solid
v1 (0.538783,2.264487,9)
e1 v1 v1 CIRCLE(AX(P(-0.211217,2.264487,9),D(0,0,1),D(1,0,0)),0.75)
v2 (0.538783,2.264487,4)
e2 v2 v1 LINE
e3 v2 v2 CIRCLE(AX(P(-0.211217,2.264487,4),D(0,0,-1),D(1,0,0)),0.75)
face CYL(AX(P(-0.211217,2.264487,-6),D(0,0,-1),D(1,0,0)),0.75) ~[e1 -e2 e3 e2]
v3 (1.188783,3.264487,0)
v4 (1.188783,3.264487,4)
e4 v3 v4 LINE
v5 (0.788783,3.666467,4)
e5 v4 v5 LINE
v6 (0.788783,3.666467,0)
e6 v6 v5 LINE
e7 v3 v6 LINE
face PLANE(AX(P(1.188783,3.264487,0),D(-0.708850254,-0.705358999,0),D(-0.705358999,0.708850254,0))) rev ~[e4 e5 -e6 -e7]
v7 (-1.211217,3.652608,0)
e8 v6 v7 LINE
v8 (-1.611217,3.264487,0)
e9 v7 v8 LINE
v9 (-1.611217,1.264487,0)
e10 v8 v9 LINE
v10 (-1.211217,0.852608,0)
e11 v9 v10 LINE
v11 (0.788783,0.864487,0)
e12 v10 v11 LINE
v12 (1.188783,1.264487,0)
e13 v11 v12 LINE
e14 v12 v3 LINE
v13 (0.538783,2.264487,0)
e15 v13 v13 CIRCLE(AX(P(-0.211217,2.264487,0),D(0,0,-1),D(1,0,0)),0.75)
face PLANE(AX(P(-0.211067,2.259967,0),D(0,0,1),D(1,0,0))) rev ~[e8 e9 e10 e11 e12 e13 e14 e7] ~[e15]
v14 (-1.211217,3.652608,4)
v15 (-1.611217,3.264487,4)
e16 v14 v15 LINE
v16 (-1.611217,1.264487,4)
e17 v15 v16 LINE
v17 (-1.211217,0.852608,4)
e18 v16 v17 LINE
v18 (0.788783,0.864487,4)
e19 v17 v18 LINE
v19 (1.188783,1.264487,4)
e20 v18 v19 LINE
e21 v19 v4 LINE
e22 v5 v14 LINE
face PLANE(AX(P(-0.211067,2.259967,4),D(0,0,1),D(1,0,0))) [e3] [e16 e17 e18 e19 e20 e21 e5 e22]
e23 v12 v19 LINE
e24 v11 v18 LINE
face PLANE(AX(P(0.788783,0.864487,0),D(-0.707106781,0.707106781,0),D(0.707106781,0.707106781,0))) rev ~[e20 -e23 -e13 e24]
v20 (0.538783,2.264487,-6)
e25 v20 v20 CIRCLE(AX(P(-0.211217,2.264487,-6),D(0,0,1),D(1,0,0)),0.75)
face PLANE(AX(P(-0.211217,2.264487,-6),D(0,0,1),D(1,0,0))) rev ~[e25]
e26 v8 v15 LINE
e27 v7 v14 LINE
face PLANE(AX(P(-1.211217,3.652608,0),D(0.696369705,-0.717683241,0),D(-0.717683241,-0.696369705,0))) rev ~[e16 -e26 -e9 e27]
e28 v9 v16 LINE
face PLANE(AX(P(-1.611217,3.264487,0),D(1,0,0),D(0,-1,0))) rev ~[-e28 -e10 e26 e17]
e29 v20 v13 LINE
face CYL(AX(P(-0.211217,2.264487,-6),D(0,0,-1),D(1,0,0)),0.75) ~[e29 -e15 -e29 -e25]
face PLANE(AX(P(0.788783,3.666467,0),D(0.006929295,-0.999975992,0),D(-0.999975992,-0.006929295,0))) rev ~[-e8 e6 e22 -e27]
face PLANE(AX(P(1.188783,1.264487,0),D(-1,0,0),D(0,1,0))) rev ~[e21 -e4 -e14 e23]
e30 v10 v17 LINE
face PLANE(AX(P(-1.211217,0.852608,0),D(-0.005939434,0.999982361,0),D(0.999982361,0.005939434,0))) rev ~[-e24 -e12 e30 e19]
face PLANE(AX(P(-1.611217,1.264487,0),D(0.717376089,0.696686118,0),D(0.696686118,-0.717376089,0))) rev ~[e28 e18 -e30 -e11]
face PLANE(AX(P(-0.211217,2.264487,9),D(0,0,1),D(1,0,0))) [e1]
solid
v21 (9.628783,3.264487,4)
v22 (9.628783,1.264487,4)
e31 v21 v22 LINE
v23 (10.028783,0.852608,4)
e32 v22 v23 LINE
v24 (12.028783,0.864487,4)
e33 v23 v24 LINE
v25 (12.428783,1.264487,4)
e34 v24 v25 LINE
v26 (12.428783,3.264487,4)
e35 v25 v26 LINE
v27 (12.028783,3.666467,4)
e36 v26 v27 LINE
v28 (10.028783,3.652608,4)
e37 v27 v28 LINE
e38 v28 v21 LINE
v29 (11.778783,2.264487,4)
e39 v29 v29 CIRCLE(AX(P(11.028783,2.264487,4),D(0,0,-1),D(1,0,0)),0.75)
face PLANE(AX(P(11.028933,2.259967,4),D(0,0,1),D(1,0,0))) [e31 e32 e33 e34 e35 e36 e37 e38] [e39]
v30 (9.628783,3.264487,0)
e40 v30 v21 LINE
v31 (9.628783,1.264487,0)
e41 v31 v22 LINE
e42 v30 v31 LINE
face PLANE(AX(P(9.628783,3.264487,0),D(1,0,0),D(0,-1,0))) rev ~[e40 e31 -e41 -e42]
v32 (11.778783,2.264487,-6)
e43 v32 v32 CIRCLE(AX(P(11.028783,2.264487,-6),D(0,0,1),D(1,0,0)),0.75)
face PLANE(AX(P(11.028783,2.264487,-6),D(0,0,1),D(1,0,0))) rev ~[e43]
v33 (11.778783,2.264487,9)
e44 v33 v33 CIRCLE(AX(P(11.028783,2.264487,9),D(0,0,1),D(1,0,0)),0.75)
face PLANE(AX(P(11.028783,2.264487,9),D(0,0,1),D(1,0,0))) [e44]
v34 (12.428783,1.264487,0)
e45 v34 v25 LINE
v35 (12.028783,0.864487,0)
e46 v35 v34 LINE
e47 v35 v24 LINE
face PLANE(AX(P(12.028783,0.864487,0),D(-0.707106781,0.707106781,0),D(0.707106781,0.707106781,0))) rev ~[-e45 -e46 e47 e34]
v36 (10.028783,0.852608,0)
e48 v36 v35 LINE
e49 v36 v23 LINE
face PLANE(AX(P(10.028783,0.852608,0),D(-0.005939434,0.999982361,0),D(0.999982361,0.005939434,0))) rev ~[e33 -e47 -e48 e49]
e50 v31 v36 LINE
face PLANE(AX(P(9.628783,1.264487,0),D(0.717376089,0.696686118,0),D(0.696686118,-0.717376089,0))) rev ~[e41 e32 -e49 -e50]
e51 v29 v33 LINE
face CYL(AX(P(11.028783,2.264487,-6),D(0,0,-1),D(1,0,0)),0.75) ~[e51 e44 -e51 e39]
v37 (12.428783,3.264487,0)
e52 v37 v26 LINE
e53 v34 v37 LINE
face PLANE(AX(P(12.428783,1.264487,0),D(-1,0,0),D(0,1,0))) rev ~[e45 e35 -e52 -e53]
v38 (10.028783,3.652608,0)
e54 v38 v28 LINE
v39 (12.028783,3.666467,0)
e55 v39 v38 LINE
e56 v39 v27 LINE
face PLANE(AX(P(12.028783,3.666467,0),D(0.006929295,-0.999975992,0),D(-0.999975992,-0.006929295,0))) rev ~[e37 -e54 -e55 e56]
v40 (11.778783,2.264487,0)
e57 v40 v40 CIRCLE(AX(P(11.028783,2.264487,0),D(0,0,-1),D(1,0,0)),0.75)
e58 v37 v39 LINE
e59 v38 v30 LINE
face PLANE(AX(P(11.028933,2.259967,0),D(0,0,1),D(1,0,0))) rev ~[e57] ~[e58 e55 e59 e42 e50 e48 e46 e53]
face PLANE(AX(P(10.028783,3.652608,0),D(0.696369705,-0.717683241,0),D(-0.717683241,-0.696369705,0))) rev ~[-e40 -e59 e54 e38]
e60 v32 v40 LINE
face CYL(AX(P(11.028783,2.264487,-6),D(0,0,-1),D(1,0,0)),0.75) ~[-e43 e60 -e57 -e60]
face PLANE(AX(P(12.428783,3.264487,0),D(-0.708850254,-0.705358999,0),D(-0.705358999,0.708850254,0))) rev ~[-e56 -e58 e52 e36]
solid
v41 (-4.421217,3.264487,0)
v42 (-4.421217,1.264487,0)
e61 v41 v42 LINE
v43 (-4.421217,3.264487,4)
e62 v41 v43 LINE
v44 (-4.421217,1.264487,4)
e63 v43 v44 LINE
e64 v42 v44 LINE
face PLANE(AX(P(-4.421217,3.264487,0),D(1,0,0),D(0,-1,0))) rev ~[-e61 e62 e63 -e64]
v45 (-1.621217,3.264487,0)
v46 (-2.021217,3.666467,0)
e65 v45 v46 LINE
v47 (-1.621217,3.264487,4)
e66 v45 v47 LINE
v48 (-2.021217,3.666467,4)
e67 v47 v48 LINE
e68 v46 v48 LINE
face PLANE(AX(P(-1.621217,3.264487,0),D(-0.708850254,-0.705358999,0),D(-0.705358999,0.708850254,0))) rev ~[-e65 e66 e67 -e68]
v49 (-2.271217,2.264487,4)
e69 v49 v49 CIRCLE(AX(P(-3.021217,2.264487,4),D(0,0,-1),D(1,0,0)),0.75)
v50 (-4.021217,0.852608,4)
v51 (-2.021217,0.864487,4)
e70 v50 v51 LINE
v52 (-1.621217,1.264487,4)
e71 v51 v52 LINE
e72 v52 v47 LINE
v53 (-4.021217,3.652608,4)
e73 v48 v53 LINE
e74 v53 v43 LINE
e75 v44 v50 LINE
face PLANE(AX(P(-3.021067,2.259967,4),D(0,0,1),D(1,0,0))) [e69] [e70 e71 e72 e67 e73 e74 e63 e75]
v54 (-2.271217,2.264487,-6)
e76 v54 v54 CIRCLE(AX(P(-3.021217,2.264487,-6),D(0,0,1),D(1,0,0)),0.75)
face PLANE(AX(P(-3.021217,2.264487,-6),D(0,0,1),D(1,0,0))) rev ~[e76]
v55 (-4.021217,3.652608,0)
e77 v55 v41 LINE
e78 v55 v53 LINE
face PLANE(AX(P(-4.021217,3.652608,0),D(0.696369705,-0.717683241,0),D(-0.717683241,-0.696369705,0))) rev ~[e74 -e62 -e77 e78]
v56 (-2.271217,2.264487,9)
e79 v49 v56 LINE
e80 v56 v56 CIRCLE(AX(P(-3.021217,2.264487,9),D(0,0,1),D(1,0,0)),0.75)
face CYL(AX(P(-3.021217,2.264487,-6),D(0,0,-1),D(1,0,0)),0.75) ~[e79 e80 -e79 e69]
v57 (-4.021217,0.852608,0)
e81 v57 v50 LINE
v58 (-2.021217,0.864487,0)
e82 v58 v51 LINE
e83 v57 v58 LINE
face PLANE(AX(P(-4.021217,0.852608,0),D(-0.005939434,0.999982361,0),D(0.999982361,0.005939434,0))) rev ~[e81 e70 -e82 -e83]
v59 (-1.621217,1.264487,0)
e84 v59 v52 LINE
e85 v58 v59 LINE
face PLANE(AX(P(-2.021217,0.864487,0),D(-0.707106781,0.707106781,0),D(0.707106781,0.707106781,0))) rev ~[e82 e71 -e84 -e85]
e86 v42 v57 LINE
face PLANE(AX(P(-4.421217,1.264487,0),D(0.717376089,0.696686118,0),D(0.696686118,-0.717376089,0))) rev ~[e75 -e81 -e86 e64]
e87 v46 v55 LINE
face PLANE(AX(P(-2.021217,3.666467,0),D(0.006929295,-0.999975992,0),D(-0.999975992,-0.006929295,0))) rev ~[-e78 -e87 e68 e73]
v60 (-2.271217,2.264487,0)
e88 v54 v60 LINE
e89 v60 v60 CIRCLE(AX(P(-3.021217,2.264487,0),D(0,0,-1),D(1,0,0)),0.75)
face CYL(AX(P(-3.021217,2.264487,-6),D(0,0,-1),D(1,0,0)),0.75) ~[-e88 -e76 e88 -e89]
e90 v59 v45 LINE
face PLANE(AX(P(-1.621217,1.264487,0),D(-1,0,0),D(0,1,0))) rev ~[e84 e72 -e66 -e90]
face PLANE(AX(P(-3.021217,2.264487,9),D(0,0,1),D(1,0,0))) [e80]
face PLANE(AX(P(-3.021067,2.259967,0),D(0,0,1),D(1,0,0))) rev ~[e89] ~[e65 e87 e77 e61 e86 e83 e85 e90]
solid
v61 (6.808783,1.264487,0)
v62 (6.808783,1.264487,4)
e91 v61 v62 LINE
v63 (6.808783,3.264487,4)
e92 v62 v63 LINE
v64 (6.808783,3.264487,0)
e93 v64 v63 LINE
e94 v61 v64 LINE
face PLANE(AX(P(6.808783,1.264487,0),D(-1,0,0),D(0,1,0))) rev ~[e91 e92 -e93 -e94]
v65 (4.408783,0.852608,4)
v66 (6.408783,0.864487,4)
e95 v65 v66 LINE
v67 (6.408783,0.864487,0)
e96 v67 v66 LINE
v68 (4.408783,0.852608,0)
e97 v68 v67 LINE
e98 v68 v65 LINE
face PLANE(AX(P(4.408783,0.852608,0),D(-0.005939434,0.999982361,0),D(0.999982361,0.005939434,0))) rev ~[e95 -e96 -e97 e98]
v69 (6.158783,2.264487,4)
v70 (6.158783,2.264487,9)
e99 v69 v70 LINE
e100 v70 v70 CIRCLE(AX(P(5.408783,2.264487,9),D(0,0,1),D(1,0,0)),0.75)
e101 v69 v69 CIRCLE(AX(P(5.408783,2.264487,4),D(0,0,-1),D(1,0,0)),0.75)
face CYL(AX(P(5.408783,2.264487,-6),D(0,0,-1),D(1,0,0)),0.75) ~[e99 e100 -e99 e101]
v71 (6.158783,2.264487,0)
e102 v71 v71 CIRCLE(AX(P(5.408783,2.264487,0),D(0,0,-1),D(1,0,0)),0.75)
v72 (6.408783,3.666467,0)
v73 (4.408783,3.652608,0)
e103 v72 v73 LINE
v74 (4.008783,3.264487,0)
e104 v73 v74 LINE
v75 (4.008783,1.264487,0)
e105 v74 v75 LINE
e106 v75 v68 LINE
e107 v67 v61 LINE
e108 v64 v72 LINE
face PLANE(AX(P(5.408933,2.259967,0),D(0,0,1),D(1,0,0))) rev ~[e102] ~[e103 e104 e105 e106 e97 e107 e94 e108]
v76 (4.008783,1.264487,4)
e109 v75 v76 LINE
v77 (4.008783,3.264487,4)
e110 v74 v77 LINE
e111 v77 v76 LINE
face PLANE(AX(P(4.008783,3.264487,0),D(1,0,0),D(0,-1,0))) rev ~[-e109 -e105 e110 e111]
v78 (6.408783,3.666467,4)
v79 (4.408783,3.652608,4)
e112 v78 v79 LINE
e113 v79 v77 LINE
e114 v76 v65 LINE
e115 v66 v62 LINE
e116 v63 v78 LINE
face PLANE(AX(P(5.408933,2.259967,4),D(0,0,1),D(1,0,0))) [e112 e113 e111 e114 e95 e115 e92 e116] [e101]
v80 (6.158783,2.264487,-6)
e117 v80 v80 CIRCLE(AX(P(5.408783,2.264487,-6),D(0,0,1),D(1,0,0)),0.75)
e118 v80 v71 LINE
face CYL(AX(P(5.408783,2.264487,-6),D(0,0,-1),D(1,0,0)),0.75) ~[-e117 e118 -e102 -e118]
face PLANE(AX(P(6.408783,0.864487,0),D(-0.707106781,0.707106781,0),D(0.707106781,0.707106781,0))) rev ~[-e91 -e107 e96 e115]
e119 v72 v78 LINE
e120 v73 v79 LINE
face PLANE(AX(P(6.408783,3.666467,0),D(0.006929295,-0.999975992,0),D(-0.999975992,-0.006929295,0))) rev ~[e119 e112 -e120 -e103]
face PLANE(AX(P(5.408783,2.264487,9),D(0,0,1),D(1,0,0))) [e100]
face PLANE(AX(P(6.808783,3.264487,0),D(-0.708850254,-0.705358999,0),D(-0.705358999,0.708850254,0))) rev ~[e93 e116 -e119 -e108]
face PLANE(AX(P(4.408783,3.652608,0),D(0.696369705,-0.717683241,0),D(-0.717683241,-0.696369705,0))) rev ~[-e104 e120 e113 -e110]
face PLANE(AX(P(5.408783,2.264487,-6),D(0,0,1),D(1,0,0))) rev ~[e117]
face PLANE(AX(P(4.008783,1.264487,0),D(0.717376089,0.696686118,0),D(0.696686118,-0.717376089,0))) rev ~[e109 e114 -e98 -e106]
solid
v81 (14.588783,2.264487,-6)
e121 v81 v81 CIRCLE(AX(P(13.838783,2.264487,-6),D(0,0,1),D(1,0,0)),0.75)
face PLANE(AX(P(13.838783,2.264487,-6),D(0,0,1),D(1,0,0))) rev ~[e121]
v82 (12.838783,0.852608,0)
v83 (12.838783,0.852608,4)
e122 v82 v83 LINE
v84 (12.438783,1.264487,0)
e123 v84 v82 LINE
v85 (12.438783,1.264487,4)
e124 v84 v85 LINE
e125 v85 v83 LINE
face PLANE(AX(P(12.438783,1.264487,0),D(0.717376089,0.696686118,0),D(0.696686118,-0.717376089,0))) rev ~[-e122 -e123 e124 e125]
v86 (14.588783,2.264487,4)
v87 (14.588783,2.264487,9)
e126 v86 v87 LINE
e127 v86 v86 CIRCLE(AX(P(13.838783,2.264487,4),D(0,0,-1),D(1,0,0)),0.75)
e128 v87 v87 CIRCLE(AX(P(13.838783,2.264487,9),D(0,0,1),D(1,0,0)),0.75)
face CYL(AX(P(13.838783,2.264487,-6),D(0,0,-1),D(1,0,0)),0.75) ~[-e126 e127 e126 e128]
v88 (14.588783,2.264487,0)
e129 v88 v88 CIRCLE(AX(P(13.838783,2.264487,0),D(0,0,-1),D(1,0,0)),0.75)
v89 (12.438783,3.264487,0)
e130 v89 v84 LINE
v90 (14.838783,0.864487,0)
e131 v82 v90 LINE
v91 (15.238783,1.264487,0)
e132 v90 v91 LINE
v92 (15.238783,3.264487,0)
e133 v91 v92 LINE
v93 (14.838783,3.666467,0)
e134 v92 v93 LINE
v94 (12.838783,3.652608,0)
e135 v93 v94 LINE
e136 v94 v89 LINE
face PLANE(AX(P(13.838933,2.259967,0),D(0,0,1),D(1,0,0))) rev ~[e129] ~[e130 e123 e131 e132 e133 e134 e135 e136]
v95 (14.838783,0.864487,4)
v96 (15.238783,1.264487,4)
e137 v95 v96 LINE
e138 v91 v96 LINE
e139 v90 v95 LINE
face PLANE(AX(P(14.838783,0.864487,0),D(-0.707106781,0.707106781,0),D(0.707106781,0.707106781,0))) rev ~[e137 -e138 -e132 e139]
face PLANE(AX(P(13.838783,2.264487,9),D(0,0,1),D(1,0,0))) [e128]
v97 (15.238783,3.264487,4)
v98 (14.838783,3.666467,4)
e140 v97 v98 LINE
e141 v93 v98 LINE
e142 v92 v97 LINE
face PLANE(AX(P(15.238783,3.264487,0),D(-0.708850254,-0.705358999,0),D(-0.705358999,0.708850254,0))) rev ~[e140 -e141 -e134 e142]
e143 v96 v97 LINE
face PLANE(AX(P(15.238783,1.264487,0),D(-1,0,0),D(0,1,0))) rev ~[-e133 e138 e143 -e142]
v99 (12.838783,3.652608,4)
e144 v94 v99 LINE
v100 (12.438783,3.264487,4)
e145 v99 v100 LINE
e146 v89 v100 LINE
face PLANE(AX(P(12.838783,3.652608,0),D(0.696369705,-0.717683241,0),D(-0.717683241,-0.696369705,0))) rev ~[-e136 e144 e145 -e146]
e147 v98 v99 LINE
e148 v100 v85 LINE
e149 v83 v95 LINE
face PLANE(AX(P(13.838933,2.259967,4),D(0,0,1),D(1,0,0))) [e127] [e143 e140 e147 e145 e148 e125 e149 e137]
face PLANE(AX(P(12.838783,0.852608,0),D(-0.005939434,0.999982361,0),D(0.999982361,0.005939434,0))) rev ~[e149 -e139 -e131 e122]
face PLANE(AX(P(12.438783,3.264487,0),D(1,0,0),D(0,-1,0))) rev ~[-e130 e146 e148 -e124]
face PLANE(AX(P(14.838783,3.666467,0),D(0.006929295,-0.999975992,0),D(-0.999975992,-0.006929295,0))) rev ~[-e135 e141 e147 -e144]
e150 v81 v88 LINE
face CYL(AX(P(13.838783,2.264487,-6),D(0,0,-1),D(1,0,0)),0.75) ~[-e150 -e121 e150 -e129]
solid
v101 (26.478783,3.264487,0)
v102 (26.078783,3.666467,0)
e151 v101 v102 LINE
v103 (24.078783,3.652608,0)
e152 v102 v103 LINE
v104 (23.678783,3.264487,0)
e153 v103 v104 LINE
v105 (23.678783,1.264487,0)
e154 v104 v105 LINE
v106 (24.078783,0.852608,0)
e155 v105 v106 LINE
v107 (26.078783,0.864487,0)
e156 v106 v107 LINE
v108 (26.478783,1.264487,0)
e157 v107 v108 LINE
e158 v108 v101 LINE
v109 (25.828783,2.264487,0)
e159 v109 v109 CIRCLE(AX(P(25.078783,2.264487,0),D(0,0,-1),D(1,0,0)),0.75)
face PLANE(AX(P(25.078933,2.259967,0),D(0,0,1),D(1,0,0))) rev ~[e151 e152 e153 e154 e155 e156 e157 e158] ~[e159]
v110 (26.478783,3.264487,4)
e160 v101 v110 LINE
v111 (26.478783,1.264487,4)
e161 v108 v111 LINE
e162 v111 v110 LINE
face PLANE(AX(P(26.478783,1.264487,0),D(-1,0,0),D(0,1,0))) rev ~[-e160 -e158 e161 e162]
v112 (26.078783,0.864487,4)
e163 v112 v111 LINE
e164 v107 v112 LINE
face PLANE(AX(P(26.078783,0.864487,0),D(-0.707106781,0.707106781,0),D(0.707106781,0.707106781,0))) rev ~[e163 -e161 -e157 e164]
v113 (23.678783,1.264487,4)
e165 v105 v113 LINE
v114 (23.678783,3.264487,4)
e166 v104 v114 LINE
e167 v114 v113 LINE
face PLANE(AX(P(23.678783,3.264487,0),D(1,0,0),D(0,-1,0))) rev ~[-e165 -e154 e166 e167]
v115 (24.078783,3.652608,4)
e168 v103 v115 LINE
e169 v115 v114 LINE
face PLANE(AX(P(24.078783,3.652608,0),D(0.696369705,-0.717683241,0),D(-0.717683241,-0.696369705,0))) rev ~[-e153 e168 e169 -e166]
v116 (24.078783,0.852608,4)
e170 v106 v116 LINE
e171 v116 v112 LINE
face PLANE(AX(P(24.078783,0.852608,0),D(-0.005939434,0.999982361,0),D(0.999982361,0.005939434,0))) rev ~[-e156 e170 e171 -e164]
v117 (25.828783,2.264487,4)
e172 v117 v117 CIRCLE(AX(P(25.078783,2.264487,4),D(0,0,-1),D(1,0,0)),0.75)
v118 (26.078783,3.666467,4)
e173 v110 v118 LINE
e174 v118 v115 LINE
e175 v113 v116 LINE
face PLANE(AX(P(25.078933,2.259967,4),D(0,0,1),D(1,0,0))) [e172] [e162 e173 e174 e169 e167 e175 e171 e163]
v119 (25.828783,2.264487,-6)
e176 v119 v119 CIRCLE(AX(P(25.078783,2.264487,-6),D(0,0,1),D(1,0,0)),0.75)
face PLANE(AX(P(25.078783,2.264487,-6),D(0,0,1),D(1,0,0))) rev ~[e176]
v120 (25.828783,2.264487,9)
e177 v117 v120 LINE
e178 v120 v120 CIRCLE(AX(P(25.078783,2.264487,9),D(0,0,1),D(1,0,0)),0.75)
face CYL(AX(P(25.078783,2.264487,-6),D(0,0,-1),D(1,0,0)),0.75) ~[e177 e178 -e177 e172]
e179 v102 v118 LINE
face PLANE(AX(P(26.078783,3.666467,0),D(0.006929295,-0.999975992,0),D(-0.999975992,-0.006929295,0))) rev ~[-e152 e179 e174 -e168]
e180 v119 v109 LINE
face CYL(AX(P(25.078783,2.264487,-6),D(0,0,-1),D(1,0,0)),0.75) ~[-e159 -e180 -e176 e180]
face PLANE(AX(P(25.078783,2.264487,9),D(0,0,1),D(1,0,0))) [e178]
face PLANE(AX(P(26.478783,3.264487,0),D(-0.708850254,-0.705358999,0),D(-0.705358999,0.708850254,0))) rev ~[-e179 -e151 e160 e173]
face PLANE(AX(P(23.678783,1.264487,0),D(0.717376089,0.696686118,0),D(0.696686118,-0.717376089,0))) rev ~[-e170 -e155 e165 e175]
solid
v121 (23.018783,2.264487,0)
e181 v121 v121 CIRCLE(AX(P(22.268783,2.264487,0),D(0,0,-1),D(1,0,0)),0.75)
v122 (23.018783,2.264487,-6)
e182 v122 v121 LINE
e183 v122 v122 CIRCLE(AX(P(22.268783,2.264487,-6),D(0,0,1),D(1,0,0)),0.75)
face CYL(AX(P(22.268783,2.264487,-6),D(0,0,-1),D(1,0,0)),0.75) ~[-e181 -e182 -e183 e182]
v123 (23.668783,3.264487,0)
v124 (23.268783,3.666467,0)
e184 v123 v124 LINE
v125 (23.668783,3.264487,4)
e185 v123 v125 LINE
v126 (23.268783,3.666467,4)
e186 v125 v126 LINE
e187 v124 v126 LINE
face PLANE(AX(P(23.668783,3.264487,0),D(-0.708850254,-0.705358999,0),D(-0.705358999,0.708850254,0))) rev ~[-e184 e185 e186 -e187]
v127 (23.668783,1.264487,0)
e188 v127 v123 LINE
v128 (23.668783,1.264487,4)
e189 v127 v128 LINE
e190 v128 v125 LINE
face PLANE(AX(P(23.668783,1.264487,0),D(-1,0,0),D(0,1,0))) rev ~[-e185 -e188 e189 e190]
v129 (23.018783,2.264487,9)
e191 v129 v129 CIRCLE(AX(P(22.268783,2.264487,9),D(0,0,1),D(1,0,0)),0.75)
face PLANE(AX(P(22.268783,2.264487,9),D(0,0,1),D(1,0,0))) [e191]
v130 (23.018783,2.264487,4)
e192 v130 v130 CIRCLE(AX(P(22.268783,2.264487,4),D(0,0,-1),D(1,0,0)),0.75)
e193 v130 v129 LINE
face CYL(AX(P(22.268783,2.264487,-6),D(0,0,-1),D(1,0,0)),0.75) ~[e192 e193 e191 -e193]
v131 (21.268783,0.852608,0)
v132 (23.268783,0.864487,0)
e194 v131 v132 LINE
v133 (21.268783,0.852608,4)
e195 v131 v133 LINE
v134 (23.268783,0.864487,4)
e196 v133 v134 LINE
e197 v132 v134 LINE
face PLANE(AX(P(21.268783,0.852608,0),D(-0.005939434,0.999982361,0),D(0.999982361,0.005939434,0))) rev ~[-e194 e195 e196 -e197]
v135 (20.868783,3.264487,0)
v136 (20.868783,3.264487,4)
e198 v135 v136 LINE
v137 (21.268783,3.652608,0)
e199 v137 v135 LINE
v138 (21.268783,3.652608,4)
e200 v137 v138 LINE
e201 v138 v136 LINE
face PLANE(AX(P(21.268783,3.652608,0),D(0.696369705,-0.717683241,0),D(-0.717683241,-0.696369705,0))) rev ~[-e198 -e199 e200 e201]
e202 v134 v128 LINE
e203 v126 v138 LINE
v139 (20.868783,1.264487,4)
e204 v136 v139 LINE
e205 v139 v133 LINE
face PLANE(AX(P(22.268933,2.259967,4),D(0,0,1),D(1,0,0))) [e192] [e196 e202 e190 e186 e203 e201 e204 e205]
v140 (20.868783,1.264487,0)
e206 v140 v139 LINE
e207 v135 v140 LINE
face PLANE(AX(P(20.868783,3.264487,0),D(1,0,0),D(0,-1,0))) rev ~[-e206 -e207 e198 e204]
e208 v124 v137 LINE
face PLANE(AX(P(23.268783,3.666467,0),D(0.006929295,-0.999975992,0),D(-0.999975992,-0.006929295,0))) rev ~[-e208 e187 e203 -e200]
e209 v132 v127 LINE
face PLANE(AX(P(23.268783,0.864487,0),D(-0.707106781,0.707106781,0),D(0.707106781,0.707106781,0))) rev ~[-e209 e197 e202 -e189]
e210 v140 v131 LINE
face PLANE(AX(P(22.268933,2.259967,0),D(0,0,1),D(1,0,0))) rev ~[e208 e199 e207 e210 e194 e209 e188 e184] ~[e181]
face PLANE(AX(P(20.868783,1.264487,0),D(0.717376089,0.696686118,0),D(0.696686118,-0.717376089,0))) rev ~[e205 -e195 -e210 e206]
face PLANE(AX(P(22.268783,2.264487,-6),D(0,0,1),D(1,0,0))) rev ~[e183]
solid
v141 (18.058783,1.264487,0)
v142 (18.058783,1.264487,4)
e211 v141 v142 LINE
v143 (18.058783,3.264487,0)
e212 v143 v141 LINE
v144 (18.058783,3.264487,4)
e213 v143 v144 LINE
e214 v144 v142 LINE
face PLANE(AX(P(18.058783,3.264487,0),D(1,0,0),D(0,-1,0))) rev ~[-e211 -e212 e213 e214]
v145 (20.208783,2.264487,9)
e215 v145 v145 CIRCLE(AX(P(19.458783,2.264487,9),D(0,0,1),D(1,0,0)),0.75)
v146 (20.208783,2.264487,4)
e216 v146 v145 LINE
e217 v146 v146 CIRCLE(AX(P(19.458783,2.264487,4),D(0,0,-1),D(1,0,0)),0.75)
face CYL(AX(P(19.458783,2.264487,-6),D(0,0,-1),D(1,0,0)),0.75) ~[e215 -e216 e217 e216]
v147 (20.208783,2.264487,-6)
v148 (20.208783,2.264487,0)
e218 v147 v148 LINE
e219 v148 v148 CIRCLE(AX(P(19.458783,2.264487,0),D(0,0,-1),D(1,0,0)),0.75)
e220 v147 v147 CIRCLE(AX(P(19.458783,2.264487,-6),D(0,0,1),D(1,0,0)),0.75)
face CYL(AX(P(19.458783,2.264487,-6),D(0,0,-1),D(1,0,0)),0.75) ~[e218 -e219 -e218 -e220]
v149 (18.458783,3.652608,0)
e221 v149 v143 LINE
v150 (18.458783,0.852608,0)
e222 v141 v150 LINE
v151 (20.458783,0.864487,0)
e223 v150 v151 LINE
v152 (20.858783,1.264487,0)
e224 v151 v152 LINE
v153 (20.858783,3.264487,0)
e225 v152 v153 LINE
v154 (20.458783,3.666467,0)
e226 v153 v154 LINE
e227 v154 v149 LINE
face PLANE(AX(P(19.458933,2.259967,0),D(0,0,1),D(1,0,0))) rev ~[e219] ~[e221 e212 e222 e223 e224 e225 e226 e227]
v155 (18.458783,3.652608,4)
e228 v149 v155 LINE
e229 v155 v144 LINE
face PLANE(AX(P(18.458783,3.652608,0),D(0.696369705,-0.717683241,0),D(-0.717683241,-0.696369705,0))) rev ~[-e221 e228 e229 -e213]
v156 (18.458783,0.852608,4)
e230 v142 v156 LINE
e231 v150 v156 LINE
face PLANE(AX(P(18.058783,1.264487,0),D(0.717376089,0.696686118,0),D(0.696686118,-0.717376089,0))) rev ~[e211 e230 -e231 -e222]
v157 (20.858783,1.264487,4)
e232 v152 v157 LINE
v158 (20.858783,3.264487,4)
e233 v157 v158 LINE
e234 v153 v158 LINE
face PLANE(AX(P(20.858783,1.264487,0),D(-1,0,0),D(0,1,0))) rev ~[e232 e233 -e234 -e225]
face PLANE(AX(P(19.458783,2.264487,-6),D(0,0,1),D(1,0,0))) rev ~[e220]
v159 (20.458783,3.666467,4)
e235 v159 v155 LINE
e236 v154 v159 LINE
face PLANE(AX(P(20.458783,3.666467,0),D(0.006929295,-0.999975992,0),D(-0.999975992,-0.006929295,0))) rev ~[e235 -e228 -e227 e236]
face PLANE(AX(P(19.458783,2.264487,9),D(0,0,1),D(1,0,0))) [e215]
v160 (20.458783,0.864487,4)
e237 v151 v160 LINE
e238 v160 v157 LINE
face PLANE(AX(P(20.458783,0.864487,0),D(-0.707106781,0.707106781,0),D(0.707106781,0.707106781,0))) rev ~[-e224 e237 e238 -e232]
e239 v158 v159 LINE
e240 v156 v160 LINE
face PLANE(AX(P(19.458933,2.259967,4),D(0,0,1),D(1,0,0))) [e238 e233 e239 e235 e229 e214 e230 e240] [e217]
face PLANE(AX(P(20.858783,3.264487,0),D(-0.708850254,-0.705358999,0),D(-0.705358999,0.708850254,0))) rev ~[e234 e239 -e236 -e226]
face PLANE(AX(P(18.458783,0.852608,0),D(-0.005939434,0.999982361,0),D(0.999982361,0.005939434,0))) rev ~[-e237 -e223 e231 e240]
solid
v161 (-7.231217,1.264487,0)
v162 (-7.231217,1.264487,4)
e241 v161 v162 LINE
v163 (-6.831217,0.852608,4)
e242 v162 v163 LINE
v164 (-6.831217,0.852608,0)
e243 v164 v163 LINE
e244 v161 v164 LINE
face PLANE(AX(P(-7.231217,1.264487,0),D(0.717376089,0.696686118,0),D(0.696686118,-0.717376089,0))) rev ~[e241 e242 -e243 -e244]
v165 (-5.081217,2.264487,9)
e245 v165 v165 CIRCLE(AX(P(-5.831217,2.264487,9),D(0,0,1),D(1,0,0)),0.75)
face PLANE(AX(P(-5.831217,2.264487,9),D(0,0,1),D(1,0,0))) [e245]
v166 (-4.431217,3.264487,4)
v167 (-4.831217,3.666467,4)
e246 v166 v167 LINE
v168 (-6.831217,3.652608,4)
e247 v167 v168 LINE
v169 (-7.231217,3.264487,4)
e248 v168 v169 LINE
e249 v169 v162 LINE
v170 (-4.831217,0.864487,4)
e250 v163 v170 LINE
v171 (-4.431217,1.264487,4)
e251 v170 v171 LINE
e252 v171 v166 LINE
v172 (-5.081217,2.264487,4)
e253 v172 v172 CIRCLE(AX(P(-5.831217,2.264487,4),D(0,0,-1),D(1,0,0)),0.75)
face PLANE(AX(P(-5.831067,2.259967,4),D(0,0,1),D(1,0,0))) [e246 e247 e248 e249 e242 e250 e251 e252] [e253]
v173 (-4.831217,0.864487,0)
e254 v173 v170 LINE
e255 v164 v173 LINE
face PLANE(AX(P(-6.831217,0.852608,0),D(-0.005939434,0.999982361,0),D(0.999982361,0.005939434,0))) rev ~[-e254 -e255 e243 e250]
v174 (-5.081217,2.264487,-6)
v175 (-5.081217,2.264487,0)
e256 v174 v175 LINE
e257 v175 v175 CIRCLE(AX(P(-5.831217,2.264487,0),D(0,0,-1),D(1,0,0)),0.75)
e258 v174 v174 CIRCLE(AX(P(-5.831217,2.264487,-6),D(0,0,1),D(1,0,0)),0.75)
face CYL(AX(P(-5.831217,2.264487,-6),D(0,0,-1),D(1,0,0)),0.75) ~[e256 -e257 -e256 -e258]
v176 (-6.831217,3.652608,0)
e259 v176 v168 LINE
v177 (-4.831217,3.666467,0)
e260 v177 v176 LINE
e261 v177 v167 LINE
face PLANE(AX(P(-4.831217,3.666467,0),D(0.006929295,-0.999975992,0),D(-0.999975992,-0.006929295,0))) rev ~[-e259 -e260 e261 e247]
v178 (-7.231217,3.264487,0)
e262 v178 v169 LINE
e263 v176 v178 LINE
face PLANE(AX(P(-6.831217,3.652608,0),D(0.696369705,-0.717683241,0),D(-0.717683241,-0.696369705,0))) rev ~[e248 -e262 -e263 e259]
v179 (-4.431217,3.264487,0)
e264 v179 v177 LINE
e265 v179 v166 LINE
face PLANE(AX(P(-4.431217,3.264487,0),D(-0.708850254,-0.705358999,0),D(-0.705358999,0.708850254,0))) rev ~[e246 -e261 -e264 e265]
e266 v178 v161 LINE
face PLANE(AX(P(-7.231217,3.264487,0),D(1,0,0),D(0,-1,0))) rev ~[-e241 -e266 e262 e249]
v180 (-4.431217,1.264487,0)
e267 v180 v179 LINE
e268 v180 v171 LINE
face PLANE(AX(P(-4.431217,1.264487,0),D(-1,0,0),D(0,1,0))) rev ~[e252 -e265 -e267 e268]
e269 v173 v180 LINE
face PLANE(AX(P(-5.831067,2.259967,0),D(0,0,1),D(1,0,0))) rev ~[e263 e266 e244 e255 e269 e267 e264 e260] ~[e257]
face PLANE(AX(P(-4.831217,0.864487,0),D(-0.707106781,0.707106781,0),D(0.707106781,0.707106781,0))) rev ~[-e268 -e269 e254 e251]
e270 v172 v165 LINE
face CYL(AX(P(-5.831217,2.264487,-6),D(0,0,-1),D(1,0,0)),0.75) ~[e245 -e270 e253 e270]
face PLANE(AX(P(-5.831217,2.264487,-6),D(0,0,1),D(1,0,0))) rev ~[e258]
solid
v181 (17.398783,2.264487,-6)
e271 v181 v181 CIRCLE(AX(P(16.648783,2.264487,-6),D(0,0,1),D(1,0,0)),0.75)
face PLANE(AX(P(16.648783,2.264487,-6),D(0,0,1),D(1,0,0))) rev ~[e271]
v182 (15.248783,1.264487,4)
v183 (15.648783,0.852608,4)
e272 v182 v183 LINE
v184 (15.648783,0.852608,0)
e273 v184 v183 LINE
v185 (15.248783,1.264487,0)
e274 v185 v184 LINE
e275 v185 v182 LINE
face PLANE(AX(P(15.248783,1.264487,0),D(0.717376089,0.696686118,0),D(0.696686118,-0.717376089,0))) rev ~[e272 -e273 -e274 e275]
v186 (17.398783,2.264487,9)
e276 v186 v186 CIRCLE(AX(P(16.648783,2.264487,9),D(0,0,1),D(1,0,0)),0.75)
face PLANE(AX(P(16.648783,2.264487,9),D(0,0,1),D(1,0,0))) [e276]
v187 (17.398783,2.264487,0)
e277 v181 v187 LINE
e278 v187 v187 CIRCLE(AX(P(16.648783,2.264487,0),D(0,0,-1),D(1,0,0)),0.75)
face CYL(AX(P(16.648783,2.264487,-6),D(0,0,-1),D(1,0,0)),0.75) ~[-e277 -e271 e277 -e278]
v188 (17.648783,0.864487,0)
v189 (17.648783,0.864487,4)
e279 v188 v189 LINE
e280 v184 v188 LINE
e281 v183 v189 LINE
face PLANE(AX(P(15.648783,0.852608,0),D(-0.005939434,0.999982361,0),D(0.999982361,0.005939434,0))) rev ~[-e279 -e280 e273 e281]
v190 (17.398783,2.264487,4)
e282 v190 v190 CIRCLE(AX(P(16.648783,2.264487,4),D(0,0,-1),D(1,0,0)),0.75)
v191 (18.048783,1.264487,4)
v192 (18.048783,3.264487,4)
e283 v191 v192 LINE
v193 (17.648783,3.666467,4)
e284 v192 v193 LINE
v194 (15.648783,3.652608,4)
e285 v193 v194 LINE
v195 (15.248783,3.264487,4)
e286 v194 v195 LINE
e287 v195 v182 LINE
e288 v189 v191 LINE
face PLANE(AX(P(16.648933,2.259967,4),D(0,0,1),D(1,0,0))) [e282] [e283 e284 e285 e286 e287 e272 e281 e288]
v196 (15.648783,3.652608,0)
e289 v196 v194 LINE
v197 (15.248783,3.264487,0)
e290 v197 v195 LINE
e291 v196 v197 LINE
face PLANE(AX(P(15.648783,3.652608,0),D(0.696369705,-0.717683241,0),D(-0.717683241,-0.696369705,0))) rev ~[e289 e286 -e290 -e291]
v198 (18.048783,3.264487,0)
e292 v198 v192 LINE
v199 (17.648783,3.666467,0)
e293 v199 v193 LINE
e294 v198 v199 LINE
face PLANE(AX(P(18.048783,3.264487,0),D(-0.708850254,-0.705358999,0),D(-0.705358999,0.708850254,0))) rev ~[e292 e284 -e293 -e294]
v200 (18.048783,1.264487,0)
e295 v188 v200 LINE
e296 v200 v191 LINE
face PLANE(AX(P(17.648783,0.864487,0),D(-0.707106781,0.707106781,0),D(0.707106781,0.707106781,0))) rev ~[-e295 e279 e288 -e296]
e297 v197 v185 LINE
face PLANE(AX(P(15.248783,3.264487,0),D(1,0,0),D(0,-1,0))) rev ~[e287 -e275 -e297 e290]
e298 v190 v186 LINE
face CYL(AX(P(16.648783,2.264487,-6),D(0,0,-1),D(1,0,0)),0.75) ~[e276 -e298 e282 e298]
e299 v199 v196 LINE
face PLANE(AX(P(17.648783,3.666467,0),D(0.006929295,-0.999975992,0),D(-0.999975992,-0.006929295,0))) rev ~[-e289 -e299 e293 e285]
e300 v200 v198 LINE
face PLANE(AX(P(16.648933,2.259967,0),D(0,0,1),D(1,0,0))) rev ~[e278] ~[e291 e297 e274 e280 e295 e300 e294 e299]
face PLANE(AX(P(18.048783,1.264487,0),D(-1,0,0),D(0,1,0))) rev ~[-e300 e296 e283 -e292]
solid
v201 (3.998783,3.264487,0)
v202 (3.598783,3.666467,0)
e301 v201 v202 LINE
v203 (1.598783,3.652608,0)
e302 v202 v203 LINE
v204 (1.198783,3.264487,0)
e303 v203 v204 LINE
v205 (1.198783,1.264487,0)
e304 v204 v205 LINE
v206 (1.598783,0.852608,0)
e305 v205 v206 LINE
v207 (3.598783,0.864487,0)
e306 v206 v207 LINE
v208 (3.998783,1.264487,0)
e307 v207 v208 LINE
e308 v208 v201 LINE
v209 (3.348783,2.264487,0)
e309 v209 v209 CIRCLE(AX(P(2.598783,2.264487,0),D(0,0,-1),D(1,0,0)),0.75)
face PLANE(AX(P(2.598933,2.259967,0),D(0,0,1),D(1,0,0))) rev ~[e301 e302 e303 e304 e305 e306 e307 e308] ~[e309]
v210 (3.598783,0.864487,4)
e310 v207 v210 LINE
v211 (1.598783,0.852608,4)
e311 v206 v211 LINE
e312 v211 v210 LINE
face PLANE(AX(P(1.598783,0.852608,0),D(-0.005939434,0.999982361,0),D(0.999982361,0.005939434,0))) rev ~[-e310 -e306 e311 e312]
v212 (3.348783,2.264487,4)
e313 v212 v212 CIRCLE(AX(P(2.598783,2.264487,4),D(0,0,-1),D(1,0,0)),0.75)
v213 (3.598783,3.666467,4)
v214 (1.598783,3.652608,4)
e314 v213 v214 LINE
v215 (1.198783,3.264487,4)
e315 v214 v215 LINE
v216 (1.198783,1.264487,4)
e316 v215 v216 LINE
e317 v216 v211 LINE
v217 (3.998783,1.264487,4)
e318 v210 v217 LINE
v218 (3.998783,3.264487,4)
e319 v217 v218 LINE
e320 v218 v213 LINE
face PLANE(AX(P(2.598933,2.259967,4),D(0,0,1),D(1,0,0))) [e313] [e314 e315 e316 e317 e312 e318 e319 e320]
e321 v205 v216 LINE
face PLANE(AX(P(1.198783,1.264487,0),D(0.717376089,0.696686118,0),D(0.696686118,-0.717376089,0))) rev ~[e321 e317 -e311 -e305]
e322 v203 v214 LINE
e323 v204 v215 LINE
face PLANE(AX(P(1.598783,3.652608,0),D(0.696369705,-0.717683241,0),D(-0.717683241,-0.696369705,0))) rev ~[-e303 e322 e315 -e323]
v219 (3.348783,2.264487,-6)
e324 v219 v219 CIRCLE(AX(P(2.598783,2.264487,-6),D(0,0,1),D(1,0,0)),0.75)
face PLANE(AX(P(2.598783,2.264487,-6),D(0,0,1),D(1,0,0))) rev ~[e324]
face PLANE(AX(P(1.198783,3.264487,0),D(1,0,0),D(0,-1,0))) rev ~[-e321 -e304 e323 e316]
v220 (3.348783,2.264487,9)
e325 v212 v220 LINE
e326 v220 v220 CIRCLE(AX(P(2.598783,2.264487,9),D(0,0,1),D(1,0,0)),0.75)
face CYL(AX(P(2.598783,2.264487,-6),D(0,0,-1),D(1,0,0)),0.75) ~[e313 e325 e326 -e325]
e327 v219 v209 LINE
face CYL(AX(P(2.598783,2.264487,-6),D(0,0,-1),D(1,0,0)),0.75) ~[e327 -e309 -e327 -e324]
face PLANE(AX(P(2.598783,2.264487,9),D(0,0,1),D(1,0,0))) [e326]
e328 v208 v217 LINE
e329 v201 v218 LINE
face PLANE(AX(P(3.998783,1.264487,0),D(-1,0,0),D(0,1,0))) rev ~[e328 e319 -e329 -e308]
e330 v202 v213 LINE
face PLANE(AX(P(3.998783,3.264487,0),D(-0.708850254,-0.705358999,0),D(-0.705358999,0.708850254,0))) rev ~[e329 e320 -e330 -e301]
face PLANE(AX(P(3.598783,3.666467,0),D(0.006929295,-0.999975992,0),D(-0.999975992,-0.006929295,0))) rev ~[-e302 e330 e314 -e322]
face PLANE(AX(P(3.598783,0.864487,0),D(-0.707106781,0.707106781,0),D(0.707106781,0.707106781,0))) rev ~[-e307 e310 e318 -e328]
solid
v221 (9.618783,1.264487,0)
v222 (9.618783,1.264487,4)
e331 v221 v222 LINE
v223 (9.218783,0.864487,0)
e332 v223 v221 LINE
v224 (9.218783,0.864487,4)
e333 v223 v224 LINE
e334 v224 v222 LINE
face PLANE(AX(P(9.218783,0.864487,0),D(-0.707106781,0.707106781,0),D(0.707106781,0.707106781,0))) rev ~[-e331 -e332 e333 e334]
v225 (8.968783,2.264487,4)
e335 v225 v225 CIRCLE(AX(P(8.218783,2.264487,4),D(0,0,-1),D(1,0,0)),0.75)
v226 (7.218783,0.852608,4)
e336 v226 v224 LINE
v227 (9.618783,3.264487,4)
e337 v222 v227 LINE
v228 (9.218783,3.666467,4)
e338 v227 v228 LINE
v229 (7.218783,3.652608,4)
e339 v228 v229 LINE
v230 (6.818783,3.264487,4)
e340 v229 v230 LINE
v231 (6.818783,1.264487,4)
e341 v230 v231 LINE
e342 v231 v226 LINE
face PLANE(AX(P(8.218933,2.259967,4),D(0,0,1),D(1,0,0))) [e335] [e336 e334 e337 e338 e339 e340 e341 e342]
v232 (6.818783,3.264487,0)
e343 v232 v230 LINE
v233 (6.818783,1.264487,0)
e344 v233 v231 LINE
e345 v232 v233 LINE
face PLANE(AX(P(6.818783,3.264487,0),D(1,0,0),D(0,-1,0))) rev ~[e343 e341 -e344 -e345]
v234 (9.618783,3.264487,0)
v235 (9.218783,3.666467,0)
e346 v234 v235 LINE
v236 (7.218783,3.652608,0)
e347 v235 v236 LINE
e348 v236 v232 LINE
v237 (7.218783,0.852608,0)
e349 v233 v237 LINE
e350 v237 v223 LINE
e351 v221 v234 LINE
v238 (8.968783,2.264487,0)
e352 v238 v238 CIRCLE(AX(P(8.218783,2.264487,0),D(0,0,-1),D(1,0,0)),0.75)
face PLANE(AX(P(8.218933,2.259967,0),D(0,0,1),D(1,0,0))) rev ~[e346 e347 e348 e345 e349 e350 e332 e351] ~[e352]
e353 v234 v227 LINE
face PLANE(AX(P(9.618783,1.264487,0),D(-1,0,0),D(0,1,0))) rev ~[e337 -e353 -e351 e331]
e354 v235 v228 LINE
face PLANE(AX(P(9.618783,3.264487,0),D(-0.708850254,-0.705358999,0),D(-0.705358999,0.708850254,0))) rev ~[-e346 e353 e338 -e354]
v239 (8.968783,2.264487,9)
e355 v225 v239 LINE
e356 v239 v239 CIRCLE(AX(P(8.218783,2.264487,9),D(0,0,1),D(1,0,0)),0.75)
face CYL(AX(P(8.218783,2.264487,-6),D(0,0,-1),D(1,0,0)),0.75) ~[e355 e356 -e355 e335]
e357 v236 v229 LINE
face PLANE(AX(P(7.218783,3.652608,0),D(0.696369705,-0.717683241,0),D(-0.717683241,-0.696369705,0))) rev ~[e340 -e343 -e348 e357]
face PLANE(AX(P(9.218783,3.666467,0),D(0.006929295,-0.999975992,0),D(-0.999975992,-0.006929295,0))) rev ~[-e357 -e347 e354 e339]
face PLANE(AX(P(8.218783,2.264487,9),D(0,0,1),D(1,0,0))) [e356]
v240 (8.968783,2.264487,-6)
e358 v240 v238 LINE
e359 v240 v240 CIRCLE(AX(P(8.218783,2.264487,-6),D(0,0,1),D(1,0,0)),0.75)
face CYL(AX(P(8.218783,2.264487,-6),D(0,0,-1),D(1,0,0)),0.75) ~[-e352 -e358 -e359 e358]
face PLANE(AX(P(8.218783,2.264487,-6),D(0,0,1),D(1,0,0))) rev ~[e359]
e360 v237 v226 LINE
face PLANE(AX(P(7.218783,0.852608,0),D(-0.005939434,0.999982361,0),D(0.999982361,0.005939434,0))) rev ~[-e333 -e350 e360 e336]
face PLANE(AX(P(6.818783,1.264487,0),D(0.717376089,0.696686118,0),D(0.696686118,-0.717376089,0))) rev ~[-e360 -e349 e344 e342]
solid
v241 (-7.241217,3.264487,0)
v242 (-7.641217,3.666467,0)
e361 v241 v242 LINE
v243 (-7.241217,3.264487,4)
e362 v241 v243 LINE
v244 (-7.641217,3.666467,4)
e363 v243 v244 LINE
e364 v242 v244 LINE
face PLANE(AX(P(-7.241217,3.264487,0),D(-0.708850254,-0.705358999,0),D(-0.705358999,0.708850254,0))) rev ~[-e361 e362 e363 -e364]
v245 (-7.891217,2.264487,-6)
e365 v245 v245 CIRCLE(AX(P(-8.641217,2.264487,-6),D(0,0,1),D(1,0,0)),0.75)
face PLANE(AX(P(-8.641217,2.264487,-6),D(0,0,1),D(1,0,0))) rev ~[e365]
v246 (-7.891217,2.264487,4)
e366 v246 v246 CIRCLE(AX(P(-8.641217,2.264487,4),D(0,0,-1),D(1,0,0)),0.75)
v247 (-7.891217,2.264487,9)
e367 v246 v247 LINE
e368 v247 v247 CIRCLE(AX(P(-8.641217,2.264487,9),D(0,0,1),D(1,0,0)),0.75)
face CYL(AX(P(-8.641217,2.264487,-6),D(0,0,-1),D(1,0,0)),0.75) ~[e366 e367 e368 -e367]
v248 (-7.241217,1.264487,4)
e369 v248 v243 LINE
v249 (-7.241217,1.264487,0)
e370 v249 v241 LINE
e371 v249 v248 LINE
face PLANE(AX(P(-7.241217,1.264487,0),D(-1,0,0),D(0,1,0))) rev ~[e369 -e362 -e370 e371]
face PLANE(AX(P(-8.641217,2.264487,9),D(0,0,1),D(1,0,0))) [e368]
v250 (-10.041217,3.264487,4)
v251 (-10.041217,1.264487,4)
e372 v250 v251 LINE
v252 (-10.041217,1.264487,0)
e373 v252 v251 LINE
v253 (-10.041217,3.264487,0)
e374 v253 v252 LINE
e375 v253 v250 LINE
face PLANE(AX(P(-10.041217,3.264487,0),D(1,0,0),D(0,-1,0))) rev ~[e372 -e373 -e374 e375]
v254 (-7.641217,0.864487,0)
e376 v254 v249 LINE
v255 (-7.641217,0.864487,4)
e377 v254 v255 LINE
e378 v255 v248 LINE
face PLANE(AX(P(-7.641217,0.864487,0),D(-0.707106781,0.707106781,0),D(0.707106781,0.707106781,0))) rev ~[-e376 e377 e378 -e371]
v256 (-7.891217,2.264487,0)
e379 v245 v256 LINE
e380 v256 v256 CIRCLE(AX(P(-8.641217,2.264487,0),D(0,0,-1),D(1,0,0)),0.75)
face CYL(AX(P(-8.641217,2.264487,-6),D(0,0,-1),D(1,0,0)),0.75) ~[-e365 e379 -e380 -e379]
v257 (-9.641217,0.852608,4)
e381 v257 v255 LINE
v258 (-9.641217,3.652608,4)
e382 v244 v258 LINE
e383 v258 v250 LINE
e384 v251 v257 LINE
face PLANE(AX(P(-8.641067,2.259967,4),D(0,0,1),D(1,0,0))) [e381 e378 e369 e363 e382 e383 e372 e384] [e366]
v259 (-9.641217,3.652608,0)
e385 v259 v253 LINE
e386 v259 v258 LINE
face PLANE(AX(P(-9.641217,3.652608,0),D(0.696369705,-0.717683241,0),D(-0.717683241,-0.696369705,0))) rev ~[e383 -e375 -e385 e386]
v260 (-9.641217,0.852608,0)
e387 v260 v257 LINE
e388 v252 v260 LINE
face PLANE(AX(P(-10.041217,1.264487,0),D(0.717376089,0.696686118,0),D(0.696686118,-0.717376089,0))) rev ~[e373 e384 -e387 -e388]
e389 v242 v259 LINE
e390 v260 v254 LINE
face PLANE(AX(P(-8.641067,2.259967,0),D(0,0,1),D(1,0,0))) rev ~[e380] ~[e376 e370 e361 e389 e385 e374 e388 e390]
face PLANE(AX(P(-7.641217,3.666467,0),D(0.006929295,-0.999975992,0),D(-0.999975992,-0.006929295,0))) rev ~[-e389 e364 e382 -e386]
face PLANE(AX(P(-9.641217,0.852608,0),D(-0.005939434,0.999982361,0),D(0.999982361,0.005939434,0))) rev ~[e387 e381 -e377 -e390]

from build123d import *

# Parameters (mm, degrees)
BOSS_EXTRUDE1_DEPTH      = 4
BOSS_EXTRUDE1_2_DEPTH    = 4
BOSS_EXTRUDE1_3_DEPTH    = 4
BOSS_EXTRUDE1_4_DEPTH    = 4
BOSS_EXTRUDE1_5_DEPTH    = 4
BOSS_EXTRUDE1_6_DEPTH    = 4
BOSS_EXTRUDE1_7_DEPTH    = 4
BOSS_EXTRUDE1_8_DEPTH    = 4
BOSS_EXTRUDE1_9_DEPTH    = 4
BOSS_EXTRUDE1_10_DEPTH   = 4
BOSS_EXTRUDE1_11_DEPTH   = 4
BOSS_EXTRUDE1_12_DEPTH   = 4
BOSS_EXTRUDE1_13_DEPTH   = 4
BOSS_EXTRUDE3_DEPTH      = 5
BOSS_EXTRUDE3_DEPTH_BACK = 10
SKETCH3_R                = 0.75


with BuildPart() as part:
    # Sketch1 → Boss-Extrude1 (new body)
    with BuildSketch(Plane.XY):
        Polygon((24.078783359, 3.652607968), (23.678783359, 3.264487045), (23.678783359, 1.264487045), (24.078783359, 0.852607968), (26.078783359, 0.864487045), (26.478783359, 1.264487045), (26.478783359, 3.264487045), (26.078783359, 3.666466891), align=None)
    extrude(amount=BOSS_EXTRUDE1_DEPTH)



with BuildPart() as body_2:
    # Sketch1 → Boss-Extrude1 2 (new body)
    with BuildSketch(Plane.XY):
        Polygon((23.268783359, 3.666466891), (21.268783359, 3.652607968), (20.868783359, 3.264487045), (20.868783359, 1.264487045), (21.268783359, 0.852607968), (23.268783359, 0.864487045), (23.668783359, 1.264487045), (23.668783359, 3.264487045), align=None)
    extrude(amount=BOSS_EXTRUDE1_2_DEPTH)


with BuildPart() as body_3:
    # Sketch1 → Boss-Extrude1 3 (new body)
    with BuildSketch(Plane.XY):
        Polygon((20.458783359, 3.666466891), (18.458783359, 3.652607968), (18.058783359, 3.264487045), (18.058783359, 1.264487045), (18.458783359, 0.852607968), (20.458783359, 0.864487045), (20.858783359, 1.264487045), (20.858783359, 3.264487045), align=None)
    extrude(amount=BOSS_EXTRUDE1_3_DEPTH)


with BuildPart() as body_4:
    # Sketch1 → Boss-Extrude1 4 (new body)
    with BuildSketch(Plane.XY):
        Polygon((17.648783359, 3.666466891), (15.648783359, 3.652607968), (15.248783359, 3.264487045), (15.248783359, 1.264487045), (15.648783359, 0.852607968), (17.648783359, 0.864487045), (18.048783359, 1.264487045), (18.048783359, 3.264487045), align=None)
    extrude(amount=BOSS_EXTRUDE1_4_DEPTH)


with BuildPart() as body_5:
    # Sketch1 → Boss-Extrude1 5 (new body)
    with BuildSketch(Plane.XY):
        Polygon((14.838783359, 3.666466891), (12.838783359, 3.652607968), (12.438783359, 3.264487045), (12.438783359, 1.264487045), (12.838783359, 0.852607968), (14.838783359, 0.864487045), (15.238783359, 1.264487045), (15.238783359, 3.264487045), align=None)
    extrude(amount=BOSS_EXTRUDE1_5_DEPTH)


with BuildPart() as body_6:
    # Sketch1 → Boss-Extrude1 6 (new body)
    with BuildSketch(Plane.XY):
        Polygon((12.028783359, 3.666466891), (10.028783359, 3.652607968), (9.628783359, 3.264487045), (9.628783359, 1.264487045), (10.028783359, 0.852607968), (12.028783359, 0.864487045), (12.428783359, 1.264487045), (12.428783359, 3.264487045), align=None)
    extrude(amount=BOSS_EXTRUDE1_6_DEPTH)


with BuildPart() as body_7:
    # Sketch1 → Boss-Extrude1 7 (new body)
    with BuildSketch(Plane.XY):
        Polygon((9.218783359, 3.666466891), (7.218783359, 3.652607968), (6.818783359, 3.264487045), (6.818783359, 1.264487045), (7.218783359, 0.852607968), (9.218783359, 0.864487045), (9.618783359, 1.264487045), (9.618783359, 3.264487045), align=None)
    extrude(amount=BOSS_EXTRUDE1_7_DEPTH)


with BuildPart() as body_8:
    # Sketch1 → Boss-Extrude1 8 (new body)
    with BuildSketch(Plane.XY):
        Polygon((6.408783359, 3.666466891), (4.408783359, 3.652607968), (4.008783359, 3.264487045), (4.008783359, 1.264487045), (4.408783359, 0.852607968), (6.408783359, 0.864487045), (6.808783359, 1.264487045), (6.808783359, 3.264487045), align=None)
    extrude(amount=BOSS_EXTRUDE1_8_DEPTH)


with BuildPart() as body_9:
    # Sketch1 → Boss-Extrude1 9 (new body)
    with BuildSketch(Plane.XY):
        Polygon((3.598783359, 3.666466891), (1.598783359, 3.652607968), (1.198783359, 3.264487045), (1.198783359, 1.264487045), (1.598783359, 0.852607968), (3.598783359, 0.864487045), (3.998783359, 1.264487045), (3.998783359, 3.264487045), align=None)
    extrude(amount=BOSS_EXTRUDE1_9_DEPTH)


with BuildPart() as body_10:
    # Sketch1 → Boss-Extrude1 10 (new body)
    with BuildSketch(Plane.XY):
        Polygon((0.788783359, 3.666466891), (-1.211216641, 3.652607968), (-1.611216641, 3.264487045), (-1.611216641, 1.264487045), (-1.211216641, 0.852607968), (0.788783359, 0.864487045), (1.188783359, 1.264487045), (1.188783359, 3.264487045), align=None)
    extrude(amount=BOSS_EXTRUDE1_10_DEPTH)


with BuildPart() as body_11:
    # Sketch1 → Boss-Extrude1 11 (new body)
    with BuildSketch(Plane.XY):
        Polygon((-2.021216641, 3.666466891), (-4.021216641, 3.652607968), (-4.421216641, 3.264487045), (-4.421216641, 1.264487045), (-4.021216641, 0.852607968), (-2.021216641, 0.864487045), (-1.621216641, 1.264487045), (-1.621216641, 3.264487045), align=None)
    extrude(amount=BOSS_EXTRUDE1_11_DEPTH)


with BuildPart() as body_12:
    # Sketch1 → Boss-Extrude1 12 (new body)
    with BuildSketch(Plane.XY):
        Polygon((-4.831216641, 3.666466891), (-6.831216641, 3.652607968), (-7.231216641, 3.264487045), (-7.231216641, 1.264487045), (-6.831216641, 0.852607968), (-4.831216641, 0.864487045), (-4.431216641, 1.264487045), (-4.431216641, 3.264487045), align=None)
    extrude(amount=BOSS_EXTRUDE1_12_DEPTH)


with BuildPart() as body_13:
    # Sketch1 → Boss-Extrude1 13 (new body)
    with BuildSketch(Plane.XY):
        Polygon((-7.641216641, 3.666466891), (-9.641216641, 3.652607968), (-10.041216641, 3.264487045), (-10.041216641, 1.264487045), (-9.641216641, 0.852607968), (-7.641216641, 0.864487045), (-7.241216641, 1.264487045), (-7.241216641, 3.264487045), align=None)
    extrude(amount=BOSS_EXTRUDE1_13_DEPTH)


with BuildPart() as part_1:
    add(part.part)

    add(body_2.part)  # Boss-Extrude3 merges body 2

    add(body_3.part)  # Boss-Extrude3 merges body 3

    add(body_4.part)  # Boss-Extrude3 merges body 4

    add(body_5.part)  # Boss-Extrude3 merges body 5

    add(body_6.part)  # Boss-Extrude3 merges body 6

    add(body_7.part)  # Boss-Extrude3 merges body 7

    add(body_8.part)  # Boss-Extrude3 merges body 8

    add(body_9.part)  # Boss-Extrude3 merges body 9

    add(body_10.part)  # Boss-Extrude3 merges body 10

    add(body_11.part)  # Boss-Extrude3 merges body 11

    add(body_12.part)  # Boss-Extrude3 merges body 12

    add(body_13.part)  # Boss-Extrude3 merges body 13
    # Sketch3 → Boss-Extrude3 (add, two sides: drawn at the far end of the back side and taken through both)
    with BuildSketch(Plane.XY.offset(4).offset(-BOSS_EXTRUDE3_DEPTH_BACK)):
        with Locations((-8.641216641, 2.264487045)):
            Circle(SKETCH3_R)
        with Locations((-5.831216641, 2.264487045)):
            Circle(SKETCH3_R)
        with Locations((-3.021216641, 2.264487045)):
            Circle(SKETCH3_R)
        with Locations((-0.211216641, 2.264487045)):
            Circle(SKETCH3_R)
        with Locations((2.598783359, 2.264487045)):
            Circle(SKETCH3_R)
        with Locations((5.408783359, 2.264487045)):
            Circle(SKETCH3_R)
        with Locations((8.218783359, 2.264487045)):
            Circle(SKETCH3_R)
        with Locations((11.028783359, 2.264487045)):
            Circle(SKETCH3_R)
        with Locations((13.838783359, 2.264487045)):
            Circle(SKETCH3_R)
        with Locations((16.648783359, 2.264487045)):
            Circle(SKETCH3_R)
        with Locations((19.458783359, 2.264487045)):
            Circle(SKETCH3_R)
        with Locations((22.268783359, 2.264487045)):
            Circle(SKETCH3_R)
        with Locations((25.078783359, 2.264487045)):
            Circle(SKETCH3_R)
    extrude(amount=BOSS_EXTRUDE3_DEPTH + BOSS_EXTRUDE3_DEPTH_BACK)


solid = part_1.part
